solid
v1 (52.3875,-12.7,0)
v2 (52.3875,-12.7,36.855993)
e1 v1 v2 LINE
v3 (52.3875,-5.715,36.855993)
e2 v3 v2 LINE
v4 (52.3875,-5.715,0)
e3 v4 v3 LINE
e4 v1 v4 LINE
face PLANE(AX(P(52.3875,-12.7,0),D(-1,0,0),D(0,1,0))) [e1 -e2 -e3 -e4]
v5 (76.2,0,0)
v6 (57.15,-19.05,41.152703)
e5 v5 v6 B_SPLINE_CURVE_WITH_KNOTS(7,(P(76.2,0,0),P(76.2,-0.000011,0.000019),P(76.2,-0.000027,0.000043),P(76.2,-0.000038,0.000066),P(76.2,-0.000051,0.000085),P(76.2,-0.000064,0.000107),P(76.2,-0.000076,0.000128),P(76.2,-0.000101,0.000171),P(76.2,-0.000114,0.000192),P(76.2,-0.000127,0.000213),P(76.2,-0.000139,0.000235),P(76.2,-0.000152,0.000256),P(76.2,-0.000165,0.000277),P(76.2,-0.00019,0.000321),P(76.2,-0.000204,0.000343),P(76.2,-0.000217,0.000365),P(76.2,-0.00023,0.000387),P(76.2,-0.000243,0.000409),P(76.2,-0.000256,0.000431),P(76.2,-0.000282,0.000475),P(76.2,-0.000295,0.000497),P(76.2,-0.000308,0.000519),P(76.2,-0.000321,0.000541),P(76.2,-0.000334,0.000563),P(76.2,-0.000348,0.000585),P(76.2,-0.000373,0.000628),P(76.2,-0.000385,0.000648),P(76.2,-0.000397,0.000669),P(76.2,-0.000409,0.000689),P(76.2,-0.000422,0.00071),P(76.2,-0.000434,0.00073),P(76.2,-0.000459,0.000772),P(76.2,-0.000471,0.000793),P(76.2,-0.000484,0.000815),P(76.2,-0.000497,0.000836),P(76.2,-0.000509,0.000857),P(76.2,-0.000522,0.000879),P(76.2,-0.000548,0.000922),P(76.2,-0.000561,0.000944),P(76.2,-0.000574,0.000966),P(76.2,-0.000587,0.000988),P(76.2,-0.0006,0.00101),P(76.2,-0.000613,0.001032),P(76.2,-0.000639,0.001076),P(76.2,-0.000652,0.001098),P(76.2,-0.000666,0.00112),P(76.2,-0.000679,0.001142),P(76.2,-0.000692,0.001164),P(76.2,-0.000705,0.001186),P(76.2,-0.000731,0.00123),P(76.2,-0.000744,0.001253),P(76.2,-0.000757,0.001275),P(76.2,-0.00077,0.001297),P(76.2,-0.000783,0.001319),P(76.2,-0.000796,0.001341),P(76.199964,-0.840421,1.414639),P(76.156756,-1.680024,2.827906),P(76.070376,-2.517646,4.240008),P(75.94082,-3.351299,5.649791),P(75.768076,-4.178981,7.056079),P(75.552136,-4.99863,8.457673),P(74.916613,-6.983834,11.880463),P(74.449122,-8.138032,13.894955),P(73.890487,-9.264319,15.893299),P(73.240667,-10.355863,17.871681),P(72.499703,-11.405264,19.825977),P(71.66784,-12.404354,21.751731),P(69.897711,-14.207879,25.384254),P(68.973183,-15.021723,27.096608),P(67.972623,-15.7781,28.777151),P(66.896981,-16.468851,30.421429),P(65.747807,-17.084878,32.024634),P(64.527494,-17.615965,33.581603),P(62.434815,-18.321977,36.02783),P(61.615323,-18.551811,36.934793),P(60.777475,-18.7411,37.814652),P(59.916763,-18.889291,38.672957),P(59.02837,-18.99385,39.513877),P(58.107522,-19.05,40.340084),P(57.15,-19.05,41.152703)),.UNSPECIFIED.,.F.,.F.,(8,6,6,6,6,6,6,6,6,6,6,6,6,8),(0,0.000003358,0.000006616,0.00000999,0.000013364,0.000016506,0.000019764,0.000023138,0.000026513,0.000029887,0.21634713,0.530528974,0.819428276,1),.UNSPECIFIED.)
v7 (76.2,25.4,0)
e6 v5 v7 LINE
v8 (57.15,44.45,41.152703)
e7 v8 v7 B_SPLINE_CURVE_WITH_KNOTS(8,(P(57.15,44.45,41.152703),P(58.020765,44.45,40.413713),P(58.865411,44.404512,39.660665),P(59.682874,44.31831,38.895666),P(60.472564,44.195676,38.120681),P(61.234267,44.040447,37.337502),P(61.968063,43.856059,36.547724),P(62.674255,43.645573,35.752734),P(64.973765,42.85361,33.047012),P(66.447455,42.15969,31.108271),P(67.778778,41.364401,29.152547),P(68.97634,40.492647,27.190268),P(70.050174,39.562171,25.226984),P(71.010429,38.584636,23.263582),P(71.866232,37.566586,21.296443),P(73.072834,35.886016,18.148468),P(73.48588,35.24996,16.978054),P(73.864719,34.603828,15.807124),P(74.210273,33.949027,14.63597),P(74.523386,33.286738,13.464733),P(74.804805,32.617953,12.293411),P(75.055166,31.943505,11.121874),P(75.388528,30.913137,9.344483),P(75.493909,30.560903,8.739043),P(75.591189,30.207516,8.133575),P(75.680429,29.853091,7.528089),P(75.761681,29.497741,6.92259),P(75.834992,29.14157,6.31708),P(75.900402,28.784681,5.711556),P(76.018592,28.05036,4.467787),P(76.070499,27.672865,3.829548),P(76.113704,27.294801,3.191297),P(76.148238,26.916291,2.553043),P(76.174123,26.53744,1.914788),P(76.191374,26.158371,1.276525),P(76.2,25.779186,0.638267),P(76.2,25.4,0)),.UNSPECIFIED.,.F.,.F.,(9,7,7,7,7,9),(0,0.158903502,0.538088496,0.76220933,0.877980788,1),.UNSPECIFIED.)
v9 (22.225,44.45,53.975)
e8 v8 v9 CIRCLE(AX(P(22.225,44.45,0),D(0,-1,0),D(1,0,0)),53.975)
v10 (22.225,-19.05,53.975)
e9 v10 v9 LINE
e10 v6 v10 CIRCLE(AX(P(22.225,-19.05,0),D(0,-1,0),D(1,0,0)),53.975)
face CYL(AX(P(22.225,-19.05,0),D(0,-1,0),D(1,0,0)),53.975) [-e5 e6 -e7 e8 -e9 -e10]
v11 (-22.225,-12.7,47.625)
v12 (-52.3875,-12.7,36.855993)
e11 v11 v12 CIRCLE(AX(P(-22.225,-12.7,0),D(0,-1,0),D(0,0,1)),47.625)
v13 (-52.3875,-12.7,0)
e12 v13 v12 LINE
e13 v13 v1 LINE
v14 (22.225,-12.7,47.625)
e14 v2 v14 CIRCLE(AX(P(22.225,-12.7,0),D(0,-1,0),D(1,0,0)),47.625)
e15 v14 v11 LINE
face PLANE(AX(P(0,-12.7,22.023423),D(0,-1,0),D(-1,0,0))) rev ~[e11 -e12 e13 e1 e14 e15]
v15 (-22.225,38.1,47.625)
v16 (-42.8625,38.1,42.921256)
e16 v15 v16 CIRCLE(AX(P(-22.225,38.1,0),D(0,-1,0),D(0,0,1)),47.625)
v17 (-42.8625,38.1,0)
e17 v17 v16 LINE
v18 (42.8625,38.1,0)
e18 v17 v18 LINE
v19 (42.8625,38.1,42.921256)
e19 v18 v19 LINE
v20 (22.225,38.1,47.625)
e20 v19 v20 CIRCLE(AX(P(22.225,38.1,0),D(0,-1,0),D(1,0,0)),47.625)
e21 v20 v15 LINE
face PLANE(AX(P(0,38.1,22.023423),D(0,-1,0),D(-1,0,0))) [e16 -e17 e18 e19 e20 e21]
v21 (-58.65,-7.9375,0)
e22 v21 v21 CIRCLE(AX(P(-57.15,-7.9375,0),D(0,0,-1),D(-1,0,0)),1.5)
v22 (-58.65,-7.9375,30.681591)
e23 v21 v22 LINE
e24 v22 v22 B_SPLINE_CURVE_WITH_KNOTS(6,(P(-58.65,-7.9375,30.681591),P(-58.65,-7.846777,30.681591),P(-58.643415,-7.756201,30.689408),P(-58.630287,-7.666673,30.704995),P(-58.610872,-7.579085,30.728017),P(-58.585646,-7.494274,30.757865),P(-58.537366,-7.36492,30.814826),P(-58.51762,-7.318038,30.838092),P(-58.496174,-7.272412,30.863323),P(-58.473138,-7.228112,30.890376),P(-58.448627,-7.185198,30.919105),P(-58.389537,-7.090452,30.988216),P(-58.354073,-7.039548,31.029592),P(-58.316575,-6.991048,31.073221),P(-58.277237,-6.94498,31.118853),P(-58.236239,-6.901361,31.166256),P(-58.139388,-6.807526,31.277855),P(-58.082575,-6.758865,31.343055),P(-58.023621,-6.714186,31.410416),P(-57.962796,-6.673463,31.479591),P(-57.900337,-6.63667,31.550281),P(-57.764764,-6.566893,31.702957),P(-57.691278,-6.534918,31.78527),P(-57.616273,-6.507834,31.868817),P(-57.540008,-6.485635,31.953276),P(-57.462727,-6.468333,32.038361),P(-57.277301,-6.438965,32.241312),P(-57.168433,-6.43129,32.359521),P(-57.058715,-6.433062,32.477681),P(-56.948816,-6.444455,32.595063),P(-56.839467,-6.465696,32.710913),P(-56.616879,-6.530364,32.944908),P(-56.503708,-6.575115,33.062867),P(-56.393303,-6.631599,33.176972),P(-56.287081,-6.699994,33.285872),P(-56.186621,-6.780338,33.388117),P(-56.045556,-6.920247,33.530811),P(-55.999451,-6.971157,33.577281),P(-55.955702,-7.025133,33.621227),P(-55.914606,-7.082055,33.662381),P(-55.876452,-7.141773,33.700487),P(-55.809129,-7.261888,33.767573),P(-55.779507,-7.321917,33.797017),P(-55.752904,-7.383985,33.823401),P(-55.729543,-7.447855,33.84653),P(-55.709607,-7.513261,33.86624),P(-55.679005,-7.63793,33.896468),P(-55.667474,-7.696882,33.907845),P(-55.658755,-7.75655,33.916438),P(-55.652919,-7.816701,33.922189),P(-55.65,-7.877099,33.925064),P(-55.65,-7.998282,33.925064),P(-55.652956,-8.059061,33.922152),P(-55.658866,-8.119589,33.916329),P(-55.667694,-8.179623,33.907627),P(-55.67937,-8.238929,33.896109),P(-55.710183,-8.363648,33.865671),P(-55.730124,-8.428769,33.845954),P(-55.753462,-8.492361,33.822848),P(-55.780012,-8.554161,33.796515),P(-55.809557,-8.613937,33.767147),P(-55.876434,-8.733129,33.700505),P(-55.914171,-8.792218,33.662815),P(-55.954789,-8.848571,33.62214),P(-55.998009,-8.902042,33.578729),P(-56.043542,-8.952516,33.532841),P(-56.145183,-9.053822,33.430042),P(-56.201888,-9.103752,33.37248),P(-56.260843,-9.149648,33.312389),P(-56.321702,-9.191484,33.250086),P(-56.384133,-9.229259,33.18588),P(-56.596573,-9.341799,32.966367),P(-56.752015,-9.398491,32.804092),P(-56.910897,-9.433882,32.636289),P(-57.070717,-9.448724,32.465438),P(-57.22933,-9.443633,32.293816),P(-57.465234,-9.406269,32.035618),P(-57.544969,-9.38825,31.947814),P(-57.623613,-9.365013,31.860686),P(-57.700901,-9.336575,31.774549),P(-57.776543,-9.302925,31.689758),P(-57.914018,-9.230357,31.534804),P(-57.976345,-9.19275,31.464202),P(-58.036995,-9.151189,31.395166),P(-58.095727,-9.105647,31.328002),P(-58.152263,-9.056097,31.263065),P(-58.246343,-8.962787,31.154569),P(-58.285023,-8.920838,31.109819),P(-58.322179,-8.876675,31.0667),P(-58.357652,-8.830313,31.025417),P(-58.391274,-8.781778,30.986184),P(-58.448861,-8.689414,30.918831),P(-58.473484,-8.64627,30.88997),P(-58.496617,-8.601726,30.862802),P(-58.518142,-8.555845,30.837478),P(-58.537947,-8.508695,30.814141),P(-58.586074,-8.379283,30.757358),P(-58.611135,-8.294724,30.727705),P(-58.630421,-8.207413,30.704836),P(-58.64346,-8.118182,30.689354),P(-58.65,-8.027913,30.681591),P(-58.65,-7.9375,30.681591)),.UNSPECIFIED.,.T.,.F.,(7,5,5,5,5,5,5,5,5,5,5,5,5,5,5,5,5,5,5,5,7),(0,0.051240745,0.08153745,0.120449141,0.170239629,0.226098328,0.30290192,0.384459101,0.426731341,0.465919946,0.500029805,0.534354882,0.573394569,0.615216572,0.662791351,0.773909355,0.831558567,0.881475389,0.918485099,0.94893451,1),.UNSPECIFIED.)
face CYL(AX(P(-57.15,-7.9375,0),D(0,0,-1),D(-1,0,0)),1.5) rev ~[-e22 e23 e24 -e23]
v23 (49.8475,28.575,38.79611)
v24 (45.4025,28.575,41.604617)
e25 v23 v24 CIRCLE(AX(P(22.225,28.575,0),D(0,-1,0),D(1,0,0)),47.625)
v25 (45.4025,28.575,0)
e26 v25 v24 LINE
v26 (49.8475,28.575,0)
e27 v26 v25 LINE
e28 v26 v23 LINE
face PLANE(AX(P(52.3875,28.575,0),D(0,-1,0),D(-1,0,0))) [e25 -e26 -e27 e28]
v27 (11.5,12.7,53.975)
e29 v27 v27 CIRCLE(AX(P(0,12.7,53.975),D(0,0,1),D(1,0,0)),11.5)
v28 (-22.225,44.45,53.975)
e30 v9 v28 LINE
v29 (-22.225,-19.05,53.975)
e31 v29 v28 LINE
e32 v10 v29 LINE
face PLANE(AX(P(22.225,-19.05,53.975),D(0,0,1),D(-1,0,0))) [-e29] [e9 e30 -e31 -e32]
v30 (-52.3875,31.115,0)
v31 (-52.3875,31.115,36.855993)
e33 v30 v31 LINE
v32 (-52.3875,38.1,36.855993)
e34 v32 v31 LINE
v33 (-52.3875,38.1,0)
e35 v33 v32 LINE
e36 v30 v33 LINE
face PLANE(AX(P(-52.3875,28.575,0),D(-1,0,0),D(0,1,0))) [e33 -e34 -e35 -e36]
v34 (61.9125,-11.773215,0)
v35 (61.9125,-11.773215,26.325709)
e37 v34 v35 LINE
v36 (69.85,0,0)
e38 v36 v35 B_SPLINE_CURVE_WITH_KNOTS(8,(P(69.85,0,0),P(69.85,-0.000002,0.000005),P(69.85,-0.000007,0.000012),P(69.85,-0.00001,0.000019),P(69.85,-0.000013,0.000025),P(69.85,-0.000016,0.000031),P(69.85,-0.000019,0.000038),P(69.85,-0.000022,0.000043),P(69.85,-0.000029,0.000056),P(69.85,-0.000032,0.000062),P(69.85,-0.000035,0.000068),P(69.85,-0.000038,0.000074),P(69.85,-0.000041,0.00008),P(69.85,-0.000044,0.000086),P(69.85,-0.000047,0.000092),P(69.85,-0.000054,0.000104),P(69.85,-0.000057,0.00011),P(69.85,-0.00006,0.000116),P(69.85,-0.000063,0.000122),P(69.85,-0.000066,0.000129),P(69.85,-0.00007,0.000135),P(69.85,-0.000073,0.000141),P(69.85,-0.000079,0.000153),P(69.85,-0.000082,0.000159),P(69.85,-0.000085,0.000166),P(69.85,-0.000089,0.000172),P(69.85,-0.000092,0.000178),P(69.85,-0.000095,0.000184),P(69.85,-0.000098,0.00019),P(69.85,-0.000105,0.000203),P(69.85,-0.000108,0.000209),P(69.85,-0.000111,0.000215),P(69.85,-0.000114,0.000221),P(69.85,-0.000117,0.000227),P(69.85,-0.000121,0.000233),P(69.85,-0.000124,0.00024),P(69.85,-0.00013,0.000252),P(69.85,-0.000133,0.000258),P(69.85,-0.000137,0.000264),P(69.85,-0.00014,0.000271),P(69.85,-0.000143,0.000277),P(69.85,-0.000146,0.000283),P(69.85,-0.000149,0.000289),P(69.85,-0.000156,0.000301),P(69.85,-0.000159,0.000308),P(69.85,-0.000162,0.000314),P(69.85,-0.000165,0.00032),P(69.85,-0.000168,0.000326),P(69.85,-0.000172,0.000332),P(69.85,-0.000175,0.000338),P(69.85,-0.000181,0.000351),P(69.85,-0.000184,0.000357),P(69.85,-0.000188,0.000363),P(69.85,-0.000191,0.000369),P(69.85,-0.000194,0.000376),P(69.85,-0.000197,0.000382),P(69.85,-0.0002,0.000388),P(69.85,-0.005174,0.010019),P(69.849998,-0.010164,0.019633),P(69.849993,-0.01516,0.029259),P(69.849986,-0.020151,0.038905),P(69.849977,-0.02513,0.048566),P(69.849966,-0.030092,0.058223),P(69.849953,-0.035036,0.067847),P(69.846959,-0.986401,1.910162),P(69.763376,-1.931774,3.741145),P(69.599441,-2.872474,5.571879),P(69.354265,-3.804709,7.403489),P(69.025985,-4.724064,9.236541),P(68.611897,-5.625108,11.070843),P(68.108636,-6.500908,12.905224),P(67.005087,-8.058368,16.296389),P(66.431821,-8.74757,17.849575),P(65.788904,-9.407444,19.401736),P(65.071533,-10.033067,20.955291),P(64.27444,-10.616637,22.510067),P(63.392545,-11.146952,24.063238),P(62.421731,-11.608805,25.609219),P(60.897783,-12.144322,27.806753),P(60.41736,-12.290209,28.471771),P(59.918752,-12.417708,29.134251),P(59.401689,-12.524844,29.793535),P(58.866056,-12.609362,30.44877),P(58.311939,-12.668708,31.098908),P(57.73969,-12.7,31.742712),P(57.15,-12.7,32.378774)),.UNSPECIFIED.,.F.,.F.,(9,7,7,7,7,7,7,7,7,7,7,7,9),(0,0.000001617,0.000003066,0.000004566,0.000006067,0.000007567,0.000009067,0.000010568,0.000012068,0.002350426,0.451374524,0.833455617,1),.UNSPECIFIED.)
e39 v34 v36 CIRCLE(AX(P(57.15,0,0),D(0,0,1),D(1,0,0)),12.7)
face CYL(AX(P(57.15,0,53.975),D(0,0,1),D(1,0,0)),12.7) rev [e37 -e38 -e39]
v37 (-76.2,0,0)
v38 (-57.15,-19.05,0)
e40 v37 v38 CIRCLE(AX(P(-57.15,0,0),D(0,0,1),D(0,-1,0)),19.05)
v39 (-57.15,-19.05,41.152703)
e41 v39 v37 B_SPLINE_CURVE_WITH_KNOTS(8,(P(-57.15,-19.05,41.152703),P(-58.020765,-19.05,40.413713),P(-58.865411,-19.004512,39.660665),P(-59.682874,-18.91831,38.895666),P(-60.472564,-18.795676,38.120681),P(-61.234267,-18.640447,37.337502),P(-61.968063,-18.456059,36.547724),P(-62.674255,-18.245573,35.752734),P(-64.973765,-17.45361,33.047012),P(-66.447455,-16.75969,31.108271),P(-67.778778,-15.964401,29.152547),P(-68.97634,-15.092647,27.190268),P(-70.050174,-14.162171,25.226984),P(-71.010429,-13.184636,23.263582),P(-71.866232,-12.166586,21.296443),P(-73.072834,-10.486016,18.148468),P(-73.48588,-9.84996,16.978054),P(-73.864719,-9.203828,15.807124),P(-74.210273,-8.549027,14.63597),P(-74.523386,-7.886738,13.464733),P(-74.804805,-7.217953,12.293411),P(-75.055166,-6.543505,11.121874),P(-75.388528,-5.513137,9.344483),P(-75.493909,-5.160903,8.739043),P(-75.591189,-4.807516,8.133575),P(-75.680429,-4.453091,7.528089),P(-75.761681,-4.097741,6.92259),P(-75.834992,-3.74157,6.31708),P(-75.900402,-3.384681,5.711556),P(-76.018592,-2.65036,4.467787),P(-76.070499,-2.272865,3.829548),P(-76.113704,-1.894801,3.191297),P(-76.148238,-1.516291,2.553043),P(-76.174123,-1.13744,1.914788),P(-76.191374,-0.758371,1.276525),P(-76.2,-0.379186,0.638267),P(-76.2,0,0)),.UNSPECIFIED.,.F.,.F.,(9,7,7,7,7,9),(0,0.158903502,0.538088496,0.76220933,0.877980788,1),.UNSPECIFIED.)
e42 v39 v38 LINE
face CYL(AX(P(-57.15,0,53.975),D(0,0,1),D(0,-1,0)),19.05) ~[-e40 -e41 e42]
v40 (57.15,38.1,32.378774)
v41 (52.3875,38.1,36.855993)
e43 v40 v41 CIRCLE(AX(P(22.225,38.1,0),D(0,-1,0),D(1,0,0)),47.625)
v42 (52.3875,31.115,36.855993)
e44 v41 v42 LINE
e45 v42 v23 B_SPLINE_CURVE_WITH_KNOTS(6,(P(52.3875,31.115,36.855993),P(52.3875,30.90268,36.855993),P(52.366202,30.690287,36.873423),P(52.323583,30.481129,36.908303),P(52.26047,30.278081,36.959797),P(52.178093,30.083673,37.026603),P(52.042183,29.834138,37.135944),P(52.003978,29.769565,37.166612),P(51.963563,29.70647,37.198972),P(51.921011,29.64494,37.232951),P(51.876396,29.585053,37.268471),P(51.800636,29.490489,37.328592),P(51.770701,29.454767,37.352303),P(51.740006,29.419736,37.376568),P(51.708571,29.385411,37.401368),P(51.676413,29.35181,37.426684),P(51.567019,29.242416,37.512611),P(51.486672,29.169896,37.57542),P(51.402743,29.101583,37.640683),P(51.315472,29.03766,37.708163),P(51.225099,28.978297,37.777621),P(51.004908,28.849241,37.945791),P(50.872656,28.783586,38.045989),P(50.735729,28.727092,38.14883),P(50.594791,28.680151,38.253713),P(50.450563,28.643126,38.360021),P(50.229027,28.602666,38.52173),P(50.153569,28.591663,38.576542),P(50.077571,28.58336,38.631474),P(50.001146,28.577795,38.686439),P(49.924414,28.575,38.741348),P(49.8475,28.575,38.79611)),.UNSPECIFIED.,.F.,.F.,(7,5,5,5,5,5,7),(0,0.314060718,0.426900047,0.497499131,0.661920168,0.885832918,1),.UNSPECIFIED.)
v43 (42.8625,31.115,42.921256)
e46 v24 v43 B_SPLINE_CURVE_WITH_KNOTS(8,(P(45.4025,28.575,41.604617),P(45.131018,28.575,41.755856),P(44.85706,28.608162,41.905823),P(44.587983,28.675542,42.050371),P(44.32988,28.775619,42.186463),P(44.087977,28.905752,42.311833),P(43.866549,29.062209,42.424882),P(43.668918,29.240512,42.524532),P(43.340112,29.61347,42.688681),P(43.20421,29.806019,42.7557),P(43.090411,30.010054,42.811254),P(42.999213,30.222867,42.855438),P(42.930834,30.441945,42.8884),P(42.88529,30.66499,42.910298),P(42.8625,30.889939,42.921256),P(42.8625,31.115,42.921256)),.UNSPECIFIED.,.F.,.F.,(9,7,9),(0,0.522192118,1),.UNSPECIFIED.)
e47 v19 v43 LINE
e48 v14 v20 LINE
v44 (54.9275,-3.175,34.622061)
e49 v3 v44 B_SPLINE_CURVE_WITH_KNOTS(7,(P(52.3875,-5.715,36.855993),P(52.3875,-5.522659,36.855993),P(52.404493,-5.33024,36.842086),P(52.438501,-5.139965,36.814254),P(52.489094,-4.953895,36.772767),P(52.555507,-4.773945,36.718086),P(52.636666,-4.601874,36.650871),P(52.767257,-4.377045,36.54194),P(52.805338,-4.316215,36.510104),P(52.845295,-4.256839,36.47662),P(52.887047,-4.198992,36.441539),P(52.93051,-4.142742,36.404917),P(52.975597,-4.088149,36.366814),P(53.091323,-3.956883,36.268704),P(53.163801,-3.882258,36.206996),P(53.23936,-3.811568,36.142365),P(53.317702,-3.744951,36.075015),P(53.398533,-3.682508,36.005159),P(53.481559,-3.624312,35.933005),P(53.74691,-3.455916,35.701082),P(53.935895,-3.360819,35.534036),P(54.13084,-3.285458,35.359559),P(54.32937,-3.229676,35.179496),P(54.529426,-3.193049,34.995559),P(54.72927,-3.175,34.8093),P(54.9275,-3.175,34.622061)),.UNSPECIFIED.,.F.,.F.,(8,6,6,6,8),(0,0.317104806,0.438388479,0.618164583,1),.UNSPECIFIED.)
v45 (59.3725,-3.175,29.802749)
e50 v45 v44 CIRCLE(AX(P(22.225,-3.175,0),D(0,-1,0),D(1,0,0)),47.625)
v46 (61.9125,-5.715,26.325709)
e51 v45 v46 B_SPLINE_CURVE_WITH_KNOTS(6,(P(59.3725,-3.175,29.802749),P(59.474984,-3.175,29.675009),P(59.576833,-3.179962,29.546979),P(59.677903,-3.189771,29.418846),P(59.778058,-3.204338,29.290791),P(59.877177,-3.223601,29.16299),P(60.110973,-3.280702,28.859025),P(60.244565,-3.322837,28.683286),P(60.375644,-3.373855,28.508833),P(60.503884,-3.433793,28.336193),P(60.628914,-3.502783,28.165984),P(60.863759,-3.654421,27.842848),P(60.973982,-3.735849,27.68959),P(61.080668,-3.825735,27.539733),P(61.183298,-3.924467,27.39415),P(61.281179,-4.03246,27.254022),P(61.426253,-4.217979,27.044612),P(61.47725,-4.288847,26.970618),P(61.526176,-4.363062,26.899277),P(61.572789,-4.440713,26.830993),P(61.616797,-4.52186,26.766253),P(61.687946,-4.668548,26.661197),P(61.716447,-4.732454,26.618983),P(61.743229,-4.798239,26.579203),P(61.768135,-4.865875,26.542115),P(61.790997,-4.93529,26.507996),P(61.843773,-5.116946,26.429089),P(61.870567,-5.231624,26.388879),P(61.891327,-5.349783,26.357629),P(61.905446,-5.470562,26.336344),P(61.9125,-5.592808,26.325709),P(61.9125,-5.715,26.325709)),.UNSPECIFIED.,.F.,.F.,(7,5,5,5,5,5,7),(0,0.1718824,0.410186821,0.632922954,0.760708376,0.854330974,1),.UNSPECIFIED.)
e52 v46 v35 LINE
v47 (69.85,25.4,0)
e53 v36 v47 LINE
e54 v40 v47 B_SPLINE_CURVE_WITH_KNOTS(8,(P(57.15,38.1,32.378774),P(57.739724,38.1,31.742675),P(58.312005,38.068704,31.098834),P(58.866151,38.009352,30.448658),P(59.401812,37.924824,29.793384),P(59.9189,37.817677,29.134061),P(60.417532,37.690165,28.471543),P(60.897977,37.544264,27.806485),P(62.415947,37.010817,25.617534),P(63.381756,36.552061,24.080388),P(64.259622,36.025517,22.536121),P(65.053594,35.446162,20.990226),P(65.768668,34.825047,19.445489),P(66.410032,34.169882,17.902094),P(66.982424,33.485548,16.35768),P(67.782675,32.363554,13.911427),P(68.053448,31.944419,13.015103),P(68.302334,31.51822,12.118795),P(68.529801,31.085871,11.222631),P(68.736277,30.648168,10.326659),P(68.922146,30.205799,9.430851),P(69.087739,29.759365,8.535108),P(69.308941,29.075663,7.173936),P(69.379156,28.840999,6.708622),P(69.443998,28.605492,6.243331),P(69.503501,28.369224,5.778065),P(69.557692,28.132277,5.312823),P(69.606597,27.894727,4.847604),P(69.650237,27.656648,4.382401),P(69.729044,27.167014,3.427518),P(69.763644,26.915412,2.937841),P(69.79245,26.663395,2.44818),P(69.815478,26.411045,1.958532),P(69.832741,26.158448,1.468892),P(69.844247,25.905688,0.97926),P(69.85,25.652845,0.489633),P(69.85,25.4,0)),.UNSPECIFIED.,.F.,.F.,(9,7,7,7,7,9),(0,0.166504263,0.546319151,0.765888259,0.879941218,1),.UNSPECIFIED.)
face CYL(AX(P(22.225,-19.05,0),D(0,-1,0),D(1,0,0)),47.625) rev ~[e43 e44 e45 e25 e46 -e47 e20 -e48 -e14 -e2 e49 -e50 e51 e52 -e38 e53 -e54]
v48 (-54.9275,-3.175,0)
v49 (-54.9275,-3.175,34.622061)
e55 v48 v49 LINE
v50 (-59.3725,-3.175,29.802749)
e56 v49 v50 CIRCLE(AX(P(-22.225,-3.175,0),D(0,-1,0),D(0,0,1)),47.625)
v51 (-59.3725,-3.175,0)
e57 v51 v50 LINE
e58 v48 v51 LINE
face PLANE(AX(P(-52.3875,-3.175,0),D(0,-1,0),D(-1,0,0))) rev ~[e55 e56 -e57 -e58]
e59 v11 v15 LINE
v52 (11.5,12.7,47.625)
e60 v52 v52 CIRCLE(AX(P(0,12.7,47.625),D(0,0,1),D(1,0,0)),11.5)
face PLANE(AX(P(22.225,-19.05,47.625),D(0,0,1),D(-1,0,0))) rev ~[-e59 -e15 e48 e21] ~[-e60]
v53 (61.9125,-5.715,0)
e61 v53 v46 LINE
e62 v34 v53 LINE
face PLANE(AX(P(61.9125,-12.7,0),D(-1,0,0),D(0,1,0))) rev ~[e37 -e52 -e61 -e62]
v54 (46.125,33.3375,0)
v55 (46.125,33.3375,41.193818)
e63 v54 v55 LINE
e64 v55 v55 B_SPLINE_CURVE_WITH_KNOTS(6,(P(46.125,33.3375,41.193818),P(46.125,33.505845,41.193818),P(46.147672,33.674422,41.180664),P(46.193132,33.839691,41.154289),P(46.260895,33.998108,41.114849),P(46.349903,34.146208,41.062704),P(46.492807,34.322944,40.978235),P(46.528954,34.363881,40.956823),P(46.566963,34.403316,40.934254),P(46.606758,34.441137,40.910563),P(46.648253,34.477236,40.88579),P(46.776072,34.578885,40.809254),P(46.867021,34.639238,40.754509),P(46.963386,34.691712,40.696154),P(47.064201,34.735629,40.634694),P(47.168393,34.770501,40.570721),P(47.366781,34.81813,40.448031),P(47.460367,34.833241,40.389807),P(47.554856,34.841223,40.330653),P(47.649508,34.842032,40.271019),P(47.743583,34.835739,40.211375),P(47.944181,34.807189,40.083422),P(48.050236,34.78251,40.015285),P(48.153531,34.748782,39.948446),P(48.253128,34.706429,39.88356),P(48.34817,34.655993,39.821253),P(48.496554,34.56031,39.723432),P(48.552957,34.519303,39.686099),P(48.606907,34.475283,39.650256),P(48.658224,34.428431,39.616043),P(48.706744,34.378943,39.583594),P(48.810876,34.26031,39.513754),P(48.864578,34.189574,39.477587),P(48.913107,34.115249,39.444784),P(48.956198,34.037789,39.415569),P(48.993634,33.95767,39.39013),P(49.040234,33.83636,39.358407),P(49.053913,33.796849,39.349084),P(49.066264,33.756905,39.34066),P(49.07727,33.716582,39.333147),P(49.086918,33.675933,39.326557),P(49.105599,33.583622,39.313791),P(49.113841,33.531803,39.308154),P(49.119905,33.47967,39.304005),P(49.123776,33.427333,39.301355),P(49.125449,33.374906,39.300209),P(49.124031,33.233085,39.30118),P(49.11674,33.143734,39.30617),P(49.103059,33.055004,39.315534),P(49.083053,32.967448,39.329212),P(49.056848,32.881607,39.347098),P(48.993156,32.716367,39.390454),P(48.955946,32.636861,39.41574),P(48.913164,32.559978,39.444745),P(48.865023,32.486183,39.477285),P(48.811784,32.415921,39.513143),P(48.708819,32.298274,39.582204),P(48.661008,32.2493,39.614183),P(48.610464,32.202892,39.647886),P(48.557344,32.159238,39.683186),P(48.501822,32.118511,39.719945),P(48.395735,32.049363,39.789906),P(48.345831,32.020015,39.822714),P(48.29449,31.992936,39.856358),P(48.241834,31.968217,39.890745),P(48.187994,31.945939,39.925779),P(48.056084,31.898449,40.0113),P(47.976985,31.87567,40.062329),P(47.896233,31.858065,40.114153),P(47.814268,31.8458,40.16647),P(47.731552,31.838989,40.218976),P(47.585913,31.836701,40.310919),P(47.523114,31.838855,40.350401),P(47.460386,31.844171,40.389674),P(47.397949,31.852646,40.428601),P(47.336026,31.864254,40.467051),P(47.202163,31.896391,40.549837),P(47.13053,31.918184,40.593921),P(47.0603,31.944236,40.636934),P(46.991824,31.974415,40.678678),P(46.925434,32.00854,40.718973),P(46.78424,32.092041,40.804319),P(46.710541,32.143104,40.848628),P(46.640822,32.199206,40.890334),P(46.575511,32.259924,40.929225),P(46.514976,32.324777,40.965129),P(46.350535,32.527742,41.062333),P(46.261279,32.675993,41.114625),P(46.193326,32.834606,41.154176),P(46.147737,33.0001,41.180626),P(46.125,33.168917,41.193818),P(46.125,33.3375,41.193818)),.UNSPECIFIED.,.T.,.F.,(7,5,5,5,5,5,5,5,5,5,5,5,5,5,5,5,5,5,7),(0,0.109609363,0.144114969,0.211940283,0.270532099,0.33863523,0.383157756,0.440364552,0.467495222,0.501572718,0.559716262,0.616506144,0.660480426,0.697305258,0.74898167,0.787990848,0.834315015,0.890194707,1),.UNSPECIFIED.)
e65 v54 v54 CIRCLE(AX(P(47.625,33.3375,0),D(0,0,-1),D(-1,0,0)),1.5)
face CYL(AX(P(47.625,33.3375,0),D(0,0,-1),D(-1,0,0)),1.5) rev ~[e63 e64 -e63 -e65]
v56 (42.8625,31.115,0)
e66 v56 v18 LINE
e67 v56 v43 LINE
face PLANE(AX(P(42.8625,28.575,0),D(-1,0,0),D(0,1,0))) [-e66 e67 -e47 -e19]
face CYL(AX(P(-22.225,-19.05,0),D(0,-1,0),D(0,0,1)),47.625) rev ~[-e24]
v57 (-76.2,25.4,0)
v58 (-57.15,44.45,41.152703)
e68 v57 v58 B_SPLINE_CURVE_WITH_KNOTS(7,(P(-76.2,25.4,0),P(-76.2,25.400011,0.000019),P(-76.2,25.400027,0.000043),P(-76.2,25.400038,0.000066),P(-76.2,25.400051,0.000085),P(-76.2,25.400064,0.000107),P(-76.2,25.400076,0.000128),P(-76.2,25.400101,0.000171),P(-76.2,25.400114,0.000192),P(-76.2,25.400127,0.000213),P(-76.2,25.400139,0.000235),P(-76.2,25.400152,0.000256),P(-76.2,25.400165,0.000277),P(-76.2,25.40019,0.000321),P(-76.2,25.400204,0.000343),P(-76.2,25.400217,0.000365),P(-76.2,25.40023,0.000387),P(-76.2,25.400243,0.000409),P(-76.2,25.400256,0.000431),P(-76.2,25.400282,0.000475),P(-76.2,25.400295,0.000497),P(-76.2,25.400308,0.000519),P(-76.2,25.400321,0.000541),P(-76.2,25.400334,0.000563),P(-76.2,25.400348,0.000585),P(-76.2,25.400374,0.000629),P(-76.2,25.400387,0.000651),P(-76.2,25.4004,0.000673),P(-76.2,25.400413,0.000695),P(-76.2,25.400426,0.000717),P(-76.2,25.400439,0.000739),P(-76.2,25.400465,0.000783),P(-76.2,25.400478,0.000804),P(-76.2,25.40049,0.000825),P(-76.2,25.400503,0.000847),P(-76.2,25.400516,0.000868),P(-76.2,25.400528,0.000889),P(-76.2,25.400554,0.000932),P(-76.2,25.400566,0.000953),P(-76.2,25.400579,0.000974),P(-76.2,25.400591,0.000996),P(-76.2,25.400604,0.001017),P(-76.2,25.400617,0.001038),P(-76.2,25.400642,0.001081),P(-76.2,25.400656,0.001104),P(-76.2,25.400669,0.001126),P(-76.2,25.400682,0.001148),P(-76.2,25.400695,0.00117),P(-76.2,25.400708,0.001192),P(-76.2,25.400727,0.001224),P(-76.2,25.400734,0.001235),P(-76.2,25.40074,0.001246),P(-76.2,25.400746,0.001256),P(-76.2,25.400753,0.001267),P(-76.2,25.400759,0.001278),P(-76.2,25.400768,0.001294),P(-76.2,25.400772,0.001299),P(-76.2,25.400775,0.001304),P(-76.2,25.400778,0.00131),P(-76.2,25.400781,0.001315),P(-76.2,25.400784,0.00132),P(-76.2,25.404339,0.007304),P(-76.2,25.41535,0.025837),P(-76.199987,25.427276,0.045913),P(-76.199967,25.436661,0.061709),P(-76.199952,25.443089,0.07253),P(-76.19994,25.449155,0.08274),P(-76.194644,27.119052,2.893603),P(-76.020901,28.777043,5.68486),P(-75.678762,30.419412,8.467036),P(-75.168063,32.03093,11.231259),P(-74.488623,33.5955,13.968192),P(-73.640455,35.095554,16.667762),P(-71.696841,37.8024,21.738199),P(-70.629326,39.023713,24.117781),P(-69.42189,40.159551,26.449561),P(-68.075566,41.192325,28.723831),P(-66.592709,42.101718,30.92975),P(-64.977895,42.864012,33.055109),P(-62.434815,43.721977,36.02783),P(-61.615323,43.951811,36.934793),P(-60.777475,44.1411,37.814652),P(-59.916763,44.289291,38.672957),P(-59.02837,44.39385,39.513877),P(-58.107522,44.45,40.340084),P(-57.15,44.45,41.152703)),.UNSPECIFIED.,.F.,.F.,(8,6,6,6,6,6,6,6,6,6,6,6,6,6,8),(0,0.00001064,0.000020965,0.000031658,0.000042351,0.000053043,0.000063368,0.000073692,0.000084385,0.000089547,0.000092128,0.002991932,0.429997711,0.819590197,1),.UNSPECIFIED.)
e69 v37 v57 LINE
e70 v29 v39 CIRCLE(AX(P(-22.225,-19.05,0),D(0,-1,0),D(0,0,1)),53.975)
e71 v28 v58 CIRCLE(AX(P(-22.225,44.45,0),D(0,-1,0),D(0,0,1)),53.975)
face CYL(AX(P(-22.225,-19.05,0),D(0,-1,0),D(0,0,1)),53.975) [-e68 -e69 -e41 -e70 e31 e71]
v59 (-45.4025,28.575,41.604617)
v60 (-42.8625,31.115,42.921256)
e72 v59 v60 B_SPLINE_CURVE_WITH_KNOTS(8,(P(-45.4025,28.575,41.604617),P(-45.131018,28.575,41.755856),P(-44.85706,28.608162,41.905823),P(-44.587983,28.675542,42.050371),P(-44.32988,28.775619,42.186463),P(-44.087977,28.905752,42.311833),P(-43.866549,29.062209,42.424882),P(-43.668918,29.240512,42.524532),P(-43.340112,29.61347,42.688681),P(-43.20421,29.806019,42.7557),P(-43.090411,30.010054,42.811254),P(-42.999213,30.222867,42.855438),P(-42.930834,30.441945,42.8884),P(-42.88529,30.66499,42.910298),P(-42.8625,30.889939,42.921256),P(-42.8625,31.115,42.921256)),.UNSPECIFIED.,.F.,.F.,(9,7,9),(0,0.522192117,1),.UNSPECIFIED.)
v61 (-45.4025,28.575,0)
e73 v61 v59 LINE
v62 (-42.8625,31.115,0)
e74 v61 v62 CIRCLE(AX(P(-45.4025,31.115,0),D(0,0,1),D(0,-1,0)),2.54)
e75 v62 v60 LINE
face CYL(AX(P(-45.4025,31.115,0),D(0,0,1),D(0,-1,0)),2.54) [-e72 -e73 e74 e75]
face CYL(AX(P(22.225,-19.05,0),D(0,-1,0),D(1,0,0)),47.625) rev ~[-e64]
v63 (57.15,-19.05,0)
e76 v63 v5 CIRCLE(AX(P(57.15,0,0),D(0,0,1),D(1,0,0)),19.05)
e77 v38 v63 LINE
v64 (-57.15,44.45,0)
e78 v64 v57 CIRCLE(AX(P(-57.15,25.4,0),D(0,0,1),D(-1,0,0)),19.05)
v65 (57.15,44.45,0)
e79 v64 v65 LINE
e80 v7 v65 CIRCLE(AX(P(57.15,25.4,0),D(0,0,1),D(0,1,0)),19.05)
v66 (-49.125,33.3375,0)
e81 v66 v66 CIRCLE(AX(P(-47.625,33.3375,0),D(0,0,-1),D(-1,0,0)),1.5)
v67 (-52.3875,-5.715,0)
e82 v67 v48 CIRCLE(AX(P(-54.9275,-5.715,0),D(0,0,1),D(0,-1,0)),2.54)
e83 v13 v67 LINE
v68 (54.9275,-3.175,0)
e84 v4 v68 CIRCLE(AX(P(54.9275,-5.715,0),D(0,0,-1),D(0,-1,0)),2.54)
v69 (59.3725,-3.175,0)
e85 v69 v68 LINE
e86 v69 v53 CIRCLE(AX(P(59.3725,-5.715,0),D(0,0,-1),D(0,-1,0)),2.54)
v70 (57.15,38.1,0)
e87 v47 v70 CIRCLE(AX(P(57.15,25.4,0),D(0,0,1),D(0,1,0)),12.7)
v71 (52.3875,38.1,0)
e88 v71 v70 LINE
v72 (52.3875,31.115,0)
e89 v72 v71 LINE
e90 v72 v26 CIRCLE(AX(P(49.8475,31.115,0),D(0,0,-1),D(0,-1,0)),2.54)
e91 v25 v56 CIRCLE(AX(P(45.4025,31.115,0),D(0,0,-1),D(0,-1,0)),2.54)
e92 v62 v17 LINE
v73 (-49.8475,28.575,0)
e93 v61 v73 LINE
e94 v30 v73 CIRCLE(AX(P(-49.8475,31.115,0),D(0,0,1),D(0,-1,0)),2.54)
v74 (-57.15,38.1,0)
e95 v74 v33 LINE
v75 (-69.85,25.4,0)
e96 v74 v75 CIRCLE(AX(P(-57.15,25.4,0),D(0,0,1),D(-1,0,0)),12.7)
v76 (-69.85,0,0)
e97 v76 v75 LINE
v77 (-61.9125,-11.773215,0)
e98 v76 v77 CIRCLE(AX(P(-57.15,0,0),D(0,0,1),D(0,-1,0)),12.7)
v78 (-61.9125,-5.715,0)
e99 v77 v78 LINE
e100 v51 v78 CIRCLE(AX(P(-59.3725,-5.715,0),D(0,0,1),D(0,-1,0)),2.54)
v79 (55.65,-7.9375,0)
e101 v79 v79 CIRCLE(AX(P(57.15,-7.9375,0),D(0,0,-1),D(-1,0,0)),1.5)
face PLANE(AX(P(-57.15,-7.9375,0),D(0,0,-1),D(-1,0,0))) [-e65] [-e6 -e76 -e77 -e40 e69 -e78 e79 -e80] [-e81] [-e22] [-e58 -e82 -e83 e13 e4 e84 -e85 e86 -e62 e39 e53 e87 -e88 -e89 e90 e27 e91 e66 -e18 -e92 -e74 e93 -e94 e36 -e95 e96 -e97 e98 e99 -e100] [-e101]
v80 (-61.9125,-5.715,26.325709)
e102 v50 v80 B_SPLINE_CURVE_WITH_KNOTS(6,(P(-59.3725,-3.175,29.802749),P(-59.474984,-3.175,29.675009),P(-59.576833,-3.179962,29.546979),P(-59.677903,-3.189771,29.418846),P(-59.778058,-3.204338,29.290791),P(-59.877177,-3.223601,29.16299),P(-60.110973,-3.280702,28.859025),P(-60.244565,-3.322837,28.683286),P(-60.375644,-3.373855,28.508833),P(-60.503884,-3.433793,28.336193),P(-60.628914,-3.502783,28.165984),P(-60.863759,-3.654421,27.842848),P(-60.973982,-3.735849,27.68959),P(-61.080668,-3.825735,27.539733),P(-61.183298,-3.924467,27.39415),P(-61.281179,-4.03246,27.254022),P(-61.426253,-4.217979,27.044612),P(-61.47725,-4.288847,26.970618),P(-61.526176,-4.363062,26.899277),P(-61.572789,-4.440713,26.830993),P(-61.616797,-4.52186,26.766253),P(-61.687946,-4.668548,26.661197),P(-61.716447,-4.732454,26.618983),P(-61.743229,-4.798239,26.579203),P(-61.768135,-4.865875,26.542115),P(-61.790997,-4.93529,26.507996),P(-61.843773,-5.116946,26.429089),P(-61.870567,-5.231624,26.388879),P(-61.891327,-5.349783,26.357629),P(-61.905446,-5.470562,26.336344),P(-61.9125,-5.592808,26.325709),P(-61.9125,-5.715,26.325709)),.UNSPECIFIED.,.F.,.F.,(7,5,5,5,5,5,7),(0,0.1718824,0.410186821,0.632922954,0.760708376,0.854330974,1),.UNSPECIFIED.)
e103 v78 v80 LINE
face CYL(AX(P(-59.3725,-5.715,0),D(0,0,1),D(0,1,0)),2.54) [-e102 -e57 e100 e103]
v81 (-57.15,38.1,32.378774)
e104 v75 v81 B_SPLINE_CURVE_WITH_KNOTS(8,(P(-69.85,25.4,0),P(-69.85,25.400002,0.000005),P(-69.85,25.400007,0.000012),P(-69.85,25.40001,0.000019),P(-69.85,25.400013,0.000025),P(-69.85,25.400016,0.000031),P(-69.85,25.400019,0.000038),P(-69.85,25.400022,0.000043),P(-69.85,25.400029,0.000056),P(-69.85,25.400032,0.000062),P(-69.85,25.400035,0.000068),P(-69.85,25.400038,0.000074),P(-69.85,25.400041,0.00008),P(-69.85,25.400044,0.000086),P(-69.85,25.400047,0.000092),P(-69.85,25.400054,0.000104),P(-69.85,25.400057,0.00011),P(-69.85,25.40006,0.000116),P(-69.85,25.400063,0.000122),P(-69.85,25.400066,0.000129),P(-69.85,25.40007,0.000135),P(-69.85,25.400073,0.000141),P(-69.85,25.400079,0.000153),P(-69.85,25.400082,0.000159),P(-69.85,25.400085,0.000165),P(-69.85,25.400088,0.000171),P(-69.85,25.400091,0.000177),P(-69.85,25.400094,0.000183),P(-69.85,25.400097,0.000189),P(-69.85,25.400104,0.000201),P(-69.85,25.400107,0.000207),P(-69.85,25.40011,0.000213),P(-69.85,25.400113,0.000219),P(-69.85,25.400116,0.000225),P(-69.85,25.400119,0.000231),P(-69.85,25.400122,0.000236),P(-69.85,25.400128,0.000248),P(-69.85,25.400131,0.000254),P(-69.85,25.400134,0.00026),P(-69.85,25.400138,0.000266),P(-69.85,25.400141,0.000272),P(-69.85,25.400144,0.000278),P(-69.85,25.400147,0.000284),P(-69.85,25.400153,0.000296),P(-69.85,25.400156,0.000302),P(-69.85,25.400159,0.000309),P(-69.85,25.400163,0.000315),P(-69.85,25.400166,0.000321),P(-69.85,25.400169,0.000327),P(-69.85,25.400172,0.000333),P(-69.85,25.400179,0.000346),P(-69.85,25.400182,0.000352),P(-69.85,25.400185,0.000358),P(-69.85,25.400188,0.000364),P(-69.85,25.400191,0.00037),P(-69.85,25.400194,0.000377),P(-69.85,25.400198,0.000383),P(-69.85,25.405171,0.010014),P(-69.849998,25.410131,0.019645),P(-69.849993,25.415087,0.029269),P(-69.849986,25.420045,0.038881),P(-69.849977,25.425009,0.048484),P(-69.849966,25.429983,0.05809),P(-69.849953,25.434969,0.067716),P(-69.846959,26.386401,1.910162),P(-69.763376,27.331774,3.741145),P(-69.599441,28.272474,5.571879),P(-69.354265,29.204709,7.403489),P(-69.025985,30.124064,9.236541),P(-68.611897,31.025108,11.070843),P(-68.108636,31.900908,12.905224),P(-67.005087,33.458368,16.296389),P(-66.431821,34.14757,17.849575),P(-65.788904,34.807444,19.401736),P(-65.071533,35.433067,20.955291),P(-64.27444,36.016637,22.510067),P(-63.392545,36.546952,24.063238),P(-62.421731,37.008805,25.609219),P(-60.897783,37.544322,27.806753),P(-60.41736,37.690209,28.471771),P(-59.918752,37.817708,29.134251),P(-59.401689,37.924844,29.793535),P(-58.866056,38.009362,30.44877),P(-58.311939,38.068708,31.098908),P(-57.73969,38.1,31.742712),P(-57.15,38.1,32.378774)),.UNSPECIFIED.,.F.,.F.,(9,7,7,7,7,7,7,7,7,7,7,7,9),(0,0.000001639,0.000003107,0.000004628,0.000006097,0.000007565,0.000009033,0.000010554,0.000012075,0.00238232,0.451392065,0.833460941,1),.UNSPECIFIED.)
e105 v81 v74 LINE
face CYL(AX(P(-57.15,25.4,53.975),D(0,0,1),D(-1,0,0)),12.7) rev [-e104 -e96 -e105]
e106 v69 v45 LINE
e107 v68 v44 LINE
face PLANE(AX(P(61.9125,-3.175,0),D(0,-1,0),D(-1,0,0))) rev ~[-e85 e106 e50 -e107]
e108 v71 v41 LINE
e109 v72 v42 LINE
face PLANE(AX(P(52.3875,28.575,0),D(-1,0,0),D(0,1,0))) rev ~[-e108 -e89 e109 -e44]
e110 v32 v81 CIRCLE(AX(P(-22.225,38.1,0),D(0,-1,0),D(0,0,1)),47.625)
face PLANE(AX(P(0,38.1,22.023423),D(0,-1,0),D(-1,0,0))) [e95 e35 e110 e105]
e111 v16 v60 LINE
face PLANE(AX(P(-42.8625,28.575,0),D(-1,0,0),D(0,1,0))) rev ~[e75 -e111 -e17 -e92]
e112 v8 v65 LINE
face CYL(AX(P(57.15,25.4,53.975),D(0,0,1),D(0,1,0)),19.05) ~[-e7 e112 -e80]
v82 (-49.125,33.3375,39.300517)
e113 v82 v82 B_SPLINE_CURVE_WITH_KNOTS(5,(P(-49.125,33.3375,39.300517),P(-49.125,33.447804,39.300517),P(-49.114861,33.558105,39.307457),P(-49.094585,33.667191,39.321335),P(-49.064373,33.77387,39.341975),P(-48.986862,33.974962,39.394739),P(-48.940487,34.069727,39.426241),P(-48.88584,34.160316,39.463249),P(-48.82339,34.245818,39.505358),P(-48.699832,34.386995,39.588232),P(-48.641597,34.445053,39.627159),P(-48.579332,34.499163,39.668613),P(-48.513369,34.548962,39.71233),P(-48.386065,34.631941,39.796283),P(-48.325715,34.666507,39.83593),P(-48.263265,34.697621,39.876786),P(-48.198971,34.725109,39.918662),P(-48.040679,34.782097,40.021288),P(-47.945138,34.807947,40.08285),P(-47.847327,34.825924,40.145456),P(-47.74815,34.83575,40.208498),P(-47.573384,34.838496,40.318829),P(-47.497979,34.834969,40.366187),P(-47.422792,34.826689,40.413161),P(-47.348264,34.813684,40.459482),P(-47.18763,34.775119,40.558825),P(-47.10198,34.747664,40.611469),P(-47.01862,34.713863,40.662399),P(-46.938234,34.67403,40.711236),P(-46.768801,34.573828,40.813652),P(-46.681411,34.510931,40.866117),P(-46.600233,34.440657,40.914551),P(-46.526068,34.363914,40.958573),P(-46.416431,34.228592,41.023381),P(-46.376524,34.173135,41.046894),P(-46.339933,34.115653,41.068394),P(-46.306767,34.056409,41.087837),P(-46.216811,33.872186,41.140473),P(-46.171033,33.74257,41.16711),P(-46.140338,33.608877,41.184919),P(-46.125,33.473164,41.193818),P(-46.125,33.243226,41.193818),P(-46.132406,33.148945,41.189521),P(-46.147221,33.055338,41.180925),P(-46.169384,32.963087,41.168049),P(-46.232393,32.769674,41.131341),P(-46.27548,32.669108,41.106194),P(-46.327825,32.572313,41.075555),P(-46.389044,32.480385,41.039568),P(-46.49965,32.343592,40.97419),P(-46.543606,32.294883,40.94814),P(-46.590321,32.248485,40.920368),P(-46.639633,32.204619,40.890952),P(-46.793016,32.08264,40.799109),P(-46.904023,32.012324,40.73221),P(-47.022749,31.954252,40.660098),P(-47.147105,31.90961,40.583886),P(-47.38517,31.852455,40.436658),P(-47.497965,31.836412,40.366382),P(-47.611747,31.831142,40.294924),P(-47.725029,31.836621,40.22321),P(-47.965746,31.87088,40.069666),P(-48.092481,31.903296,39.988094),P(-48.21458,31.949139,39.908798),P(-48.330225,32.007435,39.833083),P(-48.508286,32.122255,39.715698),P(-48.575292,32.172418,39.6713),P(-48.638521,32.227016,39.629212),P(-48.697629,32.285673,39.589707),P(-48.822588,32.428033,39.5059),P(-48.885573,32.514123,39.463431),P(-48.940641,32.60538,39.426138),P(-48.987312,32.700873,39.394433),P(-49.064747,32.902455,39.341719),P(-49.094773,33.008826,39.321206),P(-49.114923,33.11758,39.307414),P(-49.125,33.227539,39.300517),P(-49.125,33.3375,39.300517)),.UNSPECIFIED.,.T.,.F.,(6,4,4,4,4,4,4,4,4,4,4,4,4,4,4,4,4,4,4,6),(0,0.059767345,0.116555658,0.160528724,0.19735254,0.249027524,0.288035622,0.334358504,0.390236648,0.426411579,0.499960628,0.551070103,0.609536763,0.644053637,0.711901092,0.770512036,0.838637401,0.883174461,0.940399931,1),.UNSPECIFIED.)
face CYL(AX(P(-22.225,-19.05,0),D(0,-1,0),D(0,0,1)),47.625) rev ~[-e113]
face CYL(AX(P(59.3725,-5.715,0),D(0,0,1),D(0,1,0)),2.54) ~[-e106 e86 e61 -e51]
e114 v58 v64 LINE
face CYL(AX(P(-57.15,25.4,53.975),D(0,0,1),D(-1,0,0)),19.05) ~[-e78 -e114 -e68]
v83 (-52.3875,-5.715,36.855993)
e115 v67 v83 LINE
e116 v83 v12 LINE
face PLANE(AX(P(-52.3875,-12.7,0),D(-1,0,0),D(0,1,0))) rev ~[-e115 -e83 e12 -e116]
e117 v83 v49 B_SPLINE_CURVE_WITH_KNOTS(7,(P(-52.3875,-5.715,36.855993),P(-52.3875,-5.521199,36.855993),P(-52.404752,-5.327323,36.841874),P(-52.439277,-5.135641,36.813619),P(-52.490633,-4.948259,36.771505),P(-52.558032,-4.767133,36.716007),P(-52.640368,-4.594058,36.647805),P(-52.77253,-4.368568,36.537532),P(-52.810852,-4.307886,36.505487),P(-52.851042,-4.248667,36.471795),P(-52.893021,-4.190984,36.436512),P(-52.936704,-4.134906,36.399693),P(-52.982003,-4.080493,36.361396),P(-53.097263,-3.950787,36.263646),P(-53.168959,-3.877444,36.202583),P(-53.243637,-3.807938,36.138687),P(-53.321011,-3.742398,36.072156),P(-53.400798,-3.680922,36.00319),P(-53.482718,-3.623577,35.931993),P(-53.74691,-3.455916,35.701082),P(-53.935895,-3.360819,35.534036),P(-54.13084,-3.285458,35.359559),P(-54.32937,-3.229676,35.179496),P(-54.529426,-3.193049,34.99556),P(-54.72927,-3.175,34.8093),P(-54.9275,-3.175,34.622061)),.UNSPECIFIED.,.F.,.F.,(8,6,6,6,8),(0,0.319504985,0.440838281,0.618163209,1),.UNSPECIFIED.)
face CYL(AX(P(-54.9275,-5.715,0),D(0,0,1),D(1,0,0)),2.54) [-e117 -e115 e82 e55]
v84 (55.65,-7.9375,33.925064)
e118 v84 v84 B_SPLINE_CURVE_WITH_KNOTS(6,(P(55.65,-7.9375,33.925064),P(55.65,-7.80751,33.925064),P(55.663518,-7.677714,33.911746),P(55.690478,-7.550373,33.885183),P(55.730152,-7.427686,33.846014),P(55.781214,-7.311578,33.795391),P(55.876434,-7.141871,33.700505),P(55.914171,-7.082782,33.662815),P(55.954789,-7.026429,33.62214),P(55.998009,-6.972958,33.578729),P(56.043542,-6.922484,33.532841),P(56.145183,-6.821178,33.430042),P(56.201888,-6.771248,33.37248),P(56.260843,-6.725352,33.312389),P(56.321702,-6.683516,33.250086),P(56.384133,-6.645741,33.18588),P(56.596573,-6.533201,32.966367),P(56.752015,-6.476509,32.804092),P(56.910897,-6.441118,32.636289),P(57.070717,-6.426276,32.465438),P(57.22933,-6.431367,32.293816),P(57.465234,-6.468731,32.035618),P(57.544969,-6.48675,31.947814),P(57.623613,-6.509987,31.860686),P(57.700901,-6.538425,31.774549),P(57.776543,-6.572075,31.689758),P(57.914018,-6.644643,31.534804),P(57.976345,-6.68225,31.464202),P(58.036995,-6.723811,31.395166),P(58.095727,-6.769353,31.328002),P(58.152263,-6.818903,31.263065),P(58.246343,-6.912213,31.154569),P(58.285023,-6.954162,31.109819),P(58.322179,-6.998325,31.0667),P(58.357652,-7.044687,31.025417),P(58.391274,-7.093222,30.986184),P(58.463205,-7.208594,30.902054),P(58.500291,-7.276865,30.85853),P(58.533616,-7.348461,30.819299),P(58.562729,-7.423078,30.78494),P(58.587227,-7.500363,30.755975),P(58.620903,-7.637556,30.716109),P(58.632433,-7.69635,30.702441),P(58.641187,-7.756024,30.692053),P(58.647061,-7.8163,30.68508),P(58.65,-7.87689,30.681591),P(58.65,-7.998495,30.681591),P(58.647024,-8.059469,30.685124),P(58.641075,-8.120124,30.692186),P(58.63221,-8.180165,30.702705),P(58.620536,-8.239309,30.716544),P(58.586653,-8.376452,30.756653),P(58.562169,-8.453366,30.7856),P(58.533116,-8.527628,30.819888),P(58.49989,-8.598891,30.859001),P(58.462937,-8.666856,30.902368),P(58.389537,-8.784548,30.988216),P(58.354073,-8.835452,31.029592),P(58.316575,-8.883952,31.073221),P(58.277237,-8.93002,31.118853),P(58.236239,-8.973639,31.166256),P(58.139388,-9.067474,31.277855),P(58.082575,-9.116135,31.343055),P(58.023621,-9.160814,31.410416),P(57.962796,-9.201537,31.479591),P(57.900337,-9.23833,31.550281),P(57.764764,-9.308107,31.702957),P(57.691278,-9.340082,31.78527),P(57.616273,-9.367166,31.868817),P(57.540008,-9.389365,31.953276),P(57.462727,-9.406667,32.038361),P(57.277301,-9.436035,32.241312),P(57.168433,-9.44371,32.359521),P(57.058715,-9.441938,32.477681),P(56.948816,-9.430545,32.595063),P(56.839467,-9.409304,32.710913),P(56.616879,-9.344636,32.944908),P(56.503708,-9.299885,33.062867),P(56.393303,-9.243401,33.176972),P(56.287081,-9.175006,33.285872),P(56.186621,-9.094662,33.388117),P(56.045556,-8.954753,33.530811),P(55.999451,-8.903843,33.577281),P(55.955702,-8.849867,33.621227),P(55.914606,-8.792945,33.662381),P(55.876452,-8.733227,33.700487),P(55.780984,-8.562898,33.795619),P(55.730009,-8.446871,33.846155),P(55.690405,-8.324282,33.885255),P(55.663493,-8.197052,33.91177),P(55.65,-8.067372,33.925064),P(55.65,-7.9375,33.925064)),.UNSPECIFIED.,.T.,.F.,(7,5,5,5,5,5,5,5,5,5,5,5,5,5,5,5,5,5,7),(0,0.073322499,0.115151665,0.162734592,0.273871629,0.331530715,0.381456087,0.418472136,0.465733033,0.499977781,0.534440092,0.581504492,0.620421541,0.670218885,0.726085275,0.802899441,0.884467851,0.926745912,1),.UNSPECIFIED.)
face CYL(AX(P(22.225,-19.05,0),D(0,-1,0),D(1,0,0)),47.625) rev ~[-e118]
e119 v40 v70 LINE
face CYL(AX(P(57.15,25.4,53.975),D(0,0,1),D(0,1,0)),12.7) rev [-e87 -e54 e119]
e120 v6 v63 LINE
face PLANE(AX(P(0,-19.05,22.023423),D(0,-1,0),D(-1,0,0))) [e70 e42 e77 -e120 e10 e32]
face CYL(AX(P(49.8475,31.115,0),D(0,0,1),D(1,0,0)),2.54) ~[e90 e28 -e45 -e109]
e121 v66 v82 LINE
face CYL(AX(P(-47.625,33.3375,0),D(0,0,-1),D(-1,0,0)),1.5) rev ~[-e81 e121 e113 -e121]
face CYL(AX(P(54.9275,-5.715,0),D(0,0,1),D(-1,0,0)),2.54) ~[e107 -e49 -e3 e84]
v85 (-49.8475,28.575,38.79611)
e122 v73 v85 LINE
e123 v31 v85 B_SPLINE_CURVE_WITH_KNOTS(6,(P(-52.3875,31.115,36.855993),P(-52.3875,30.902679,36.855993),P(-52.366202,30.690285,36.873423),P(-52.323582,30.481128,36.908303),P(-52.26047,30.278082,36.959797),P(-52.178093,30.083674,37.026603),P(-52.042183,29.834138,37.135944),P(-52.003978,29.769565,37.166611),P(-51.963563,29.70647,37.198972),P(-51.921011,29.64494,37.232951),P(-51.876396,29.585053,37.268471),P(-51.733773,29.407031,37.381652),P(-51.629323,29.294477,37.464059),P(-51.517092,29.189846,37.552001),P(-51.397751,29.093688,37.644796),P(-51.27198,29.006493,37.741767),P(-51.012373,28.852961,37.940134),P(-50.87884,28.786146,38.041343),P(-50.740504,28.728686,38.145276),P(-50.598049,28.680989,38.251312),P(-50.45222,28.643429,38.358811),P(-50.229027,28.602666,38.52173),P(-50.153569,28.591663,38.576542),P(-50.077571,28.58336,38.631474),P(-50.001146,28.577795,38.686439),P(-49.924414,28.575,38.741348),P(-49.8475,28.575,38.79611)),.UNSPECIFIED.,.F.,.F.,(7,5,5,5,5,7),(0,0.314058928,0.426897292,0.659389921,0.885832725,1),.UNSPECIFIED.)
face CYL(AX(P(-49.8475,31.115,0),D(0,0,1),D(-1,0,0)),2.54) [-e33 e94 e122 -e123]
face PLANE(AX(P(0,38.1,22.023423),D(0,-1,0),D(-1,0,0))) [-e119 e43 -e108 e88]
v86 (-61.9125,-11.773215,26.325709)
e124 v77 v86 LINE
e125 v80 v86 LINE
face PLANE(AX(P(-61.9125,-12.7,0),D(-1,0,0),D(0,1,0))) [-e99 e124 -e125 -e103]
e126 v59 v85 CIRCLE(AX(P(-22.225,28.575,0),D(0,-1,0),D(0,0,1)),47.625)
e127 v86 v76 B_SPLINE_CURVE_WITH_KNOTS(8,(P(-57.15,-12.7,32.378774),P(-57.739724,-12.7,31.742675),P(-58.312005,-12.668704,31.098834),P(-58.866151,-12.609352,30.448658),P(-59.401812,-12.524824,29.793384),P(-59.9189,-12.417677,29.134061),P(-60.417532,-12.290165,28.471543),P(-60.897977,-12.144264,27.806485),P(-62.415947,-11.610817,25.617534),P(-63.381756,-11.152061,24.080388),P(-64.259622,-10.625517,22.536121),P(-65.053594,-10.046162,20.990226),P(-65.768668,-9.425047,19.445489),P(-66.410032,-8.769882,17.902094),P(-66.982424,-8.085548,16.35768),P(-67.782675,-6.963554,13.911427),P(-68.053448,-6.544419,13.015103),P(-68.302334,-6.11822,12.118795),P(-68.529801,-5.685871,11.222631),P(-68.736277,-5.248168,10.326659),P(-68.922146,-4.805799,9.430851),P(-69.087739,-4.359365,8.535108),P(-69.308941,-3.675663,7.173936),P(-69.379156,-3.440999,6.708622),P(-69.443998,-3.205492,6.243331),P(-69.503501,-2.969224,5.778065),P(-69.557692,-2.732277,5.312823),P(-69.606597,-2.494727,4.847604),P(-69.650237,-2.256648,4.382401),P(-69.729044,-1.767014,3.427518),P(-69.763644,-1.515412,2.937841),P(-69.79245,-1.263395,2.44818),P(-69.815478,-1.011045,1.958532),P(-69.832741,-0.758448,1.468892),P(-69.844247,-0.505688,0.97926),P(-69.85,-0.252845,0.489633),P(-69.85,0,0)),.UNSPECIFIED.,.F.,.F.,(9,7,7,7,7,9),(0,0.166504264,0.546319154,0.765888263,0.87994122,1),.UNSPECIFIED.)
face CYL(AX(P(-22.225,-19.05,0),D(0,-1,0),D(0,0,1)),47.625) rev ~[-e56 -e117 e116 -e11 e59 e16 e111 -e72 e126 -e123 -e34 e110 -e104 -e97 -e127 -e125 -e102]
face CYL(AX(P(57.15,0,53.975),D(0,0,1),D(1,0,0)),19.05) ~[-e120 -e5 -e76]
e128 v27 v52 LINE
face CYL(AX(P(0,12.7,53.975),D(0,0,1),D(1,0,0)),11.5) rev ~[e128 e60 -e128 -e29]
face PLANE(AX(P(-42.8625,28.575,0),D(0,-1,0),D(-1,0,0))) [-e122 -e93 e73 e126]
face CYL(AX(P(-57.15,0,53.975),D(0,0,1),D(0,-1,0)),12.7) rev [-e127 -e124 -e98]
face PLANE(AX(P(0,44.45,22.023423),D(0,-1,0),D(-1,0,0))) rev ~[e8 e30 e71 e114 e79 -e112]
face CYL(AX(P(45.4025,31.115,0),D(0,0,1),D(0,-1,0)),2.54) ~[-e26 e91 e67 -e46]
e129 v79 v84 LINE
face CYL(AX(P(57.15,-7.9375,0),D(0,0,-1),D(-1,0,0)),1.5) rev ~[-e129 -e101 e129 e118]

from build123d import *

# Parameters (mm, degrees)
BOSS_EXTRUDE2_DEPTH      = 44.45
BOSS_EXTRUDE2_DEPTH_BACK = 19.05
CUT_EXTRUDE_THIN1_DEPTH  = 104.419258966
SHELL1_T                 = -6.35
SKETCH5_R                = 11.5
CUT_EXTRUDE1_DEPTH       = 6.35
BOSS_EXTRUDE3_REACH      = 105.419
SKETCH8_W                = 9.525
SKETCH8_H                = 9.525
SKETCH8_R                = 1.5
FILLET1_R                = 2.54


with BuildPart() as part:
    # Sketch3 → Boss-Extrude2 (new, two sides: drawn at the far end of the back side and taken through both)
    with BuildSketch(Plane(origin=(0, 0, 0), x_dir=(1, 0, 0), z_dir=(0, 1, 0)).offset(-BOSS_EXTRUDE2_DEPTH_BACK)):
        with BuildLine():
            Line((-76.2, 0), (76.2, 0))
            ThreePointArc((76.2, 0), (60.391088515, -38.166088515), (22.225, -53.975))
            Line((22.225, -53.975), (-22.225, -53.975))
            ThreePointArc((-22.225, -53.975), (-60.391088515, -38.166088515), (-76.2, 0))
        make_face()
    extrude(amount=BOSS_EXTRUDE2_DEPTH + BOSS_EXTRUDE2_DEPTH_BACK)

    # Sketch4 → Cut-Extrude-Thin1 (cut, through all)
    with BuildSketch(Plane.XY.offset(53.975)):
        with BuildLine():
            Line((88.9, 25.4), (88.9, 0))
            ThreePointArc((88.9, 0), (79.600640303, -22.450640303), (57.15, -31.75))
            Line((57.15, -31.75), (-57.15, -31.75))
            ThreePointArc((-57.15, -31.75), (-79.600640303, -22.450640303), (-88.9, 0))
            Line((-88.9, 0), (-88.9, 25.4))
            ThreePointArc((-88.9, 25.4), (-79.600640303, 47.850640303), (-57.15, 57.15))
            Line((-57.15, 57.15), (57.15, 57.15))
            ThreePointArc((57.15, 57.15), (79.600640303, 47.850640303), (88.9, 25.4))
        make_face()
        with BuildLine():
            Line((76.2, 25.4), (76.2, 0))
            ThreePointArc((76.2, 0), (70.620384182, -13.470384182), (57.15, -19.05))
            Line((57.15, -19.05), (-57.15, -19.05))
            ThreePointArc((-57.15, -19.05), (-70.620384182, -13.470384182), (-76.2, 0))
            Line((-76.2, 0), (-76.2, 25.4))
            ThreePointArc((-76.2, 25.4), (-70.620384182, 38.870384182), (-57.15, 44.45))
            Line((-57.15, 44.45), (57.15, 44.45))
            ThreePointArc((57.15, 44.45), (70.620384182, 38.870384182), (76.2, 25.4))
        make_face(mode=Mode.SUBTRACT)
    extrude(amount=-CUT_EXTRUDE_THIN1_DEPTH, mode=Mode.SUBTRACT)

    # Shell1
    shell1_openings = [part.faces().sort_by_distance(p)[0] for p in [
        (0, 12.7, 0),
    ]]
    offset(amount=SHELL1_T, openings=shell1_openings)

    # Sketch5 → Cut-Extrude1 (cut)
    with BuildSketch(Plane.XY.offset(53.975)):
        with Locations((0, 12.7)):
            Circle(SKETCH5_R)
    extrude(amount=-CUT_EXTRUDE1_DEPTH, mode=Mode.SUBTRACT)

    # Sketch8 → Boss-Extrude3 (add, up to next)
    with BuildSketch(Plane(origin=(0, 0, 0), x_dir=(-1, 0, 0), z_dir=(0, 0, -1)), mode=Mode.PRIVATE) as boss_extrude3_sk1:
        with Locations((-47.625, 33.3375)):
            Rectangle(SKETCH8_W, SKETCH8_H)
        with Locations((-47.625, 33.3375)):
            Circle(SKETCH8_R, mode=Mode.SUBTRACT)
    boss_extrude3_tool1 = extrude(boss_extrude3_sk1.sketch, amount=-BOSS_EXTRUDE3_REACH, mode=Mode.PRIVATE) - part.part
    # Sketch8 → Boss-Extrude3 (add, up to next)
    with BuildSketch(Plane(origin=(0, 0, 0), x_dir=(-1, 0, 0), z_dir=(0, 0, -1)), mode=Mode.PRIVATE) as boss_extrude3_sk2:
        with Locations((-57.15, -7.9375)):
            Rectangle(SKETCH8_W, SKETCH8_H)
        with Locations((-57.15, -7.9375)):
            Circle(SKETCH8_R, mode=Mode.SUBTRACT)
    boss_extrude3_tool2 = extrude(boss_extrude3_sk2.sketch, amount=-BOSS_EXTRUDE3_REACH, mode=Mode.PRIVATE) - part.part
    # Sketch8 → Boss-Extrude3 (add, up to next)
    with BuildSketch(Plane(origin=(0, 0, 0), x_dir=(-1, 0, 0), z_dir=(0, 0, -1)), mode=Mode.PRIVATE) as boss_extrude3_sk3:
        with Locations((57.15, -7.9375)):
            Rectangle(SKETCH8_W, SKETCH8_H)
        with Locations((57.15, -7.9375)):
            Circle(SKETCH8_R, mode=Mode.SUBTRACT)
    boss_extrude3_tool3 = extrude(boss_extrude3_sk3.sketch, amount=-BOSS_EXTRUDE3_REACH, mode=Mode.PRIVATE) - part.part
    # Sketch8 → Boss-Extrude3 (add, up to next)
    with BuildSketch(Plane(origin=(0, 0, 0), x_dir=(-1, 0, 0), z_dir=(0, 0, -1)), mode=Mode.PRIVATE) as boss_extrude3_sk4:
        with Locations((47.625, 33.3375)):
            Rectangle(SKETCH8_W, SKETCH8_H)
        with Locations((47.625, 33.3375)):
            Circle(SKETCH8_R, mode=Mode.SUBTRACT)
    boss_extrude3_tool4 = extrude(boss_extrude3_sk4.sketch, amount=-BOSS_EXTRUDE3_REACH, mode=Mode.PRIVATE) - part.part
    add(boss_extrude3_tool1.solids().sort_by_distance((47.625, 28.709704, 0))[0])
    add(boss_extrude3_tool2.solids().sort_by_distance((57.15, -3.309704, 0))[0])
    add(boss_extrude3_tool3.solids().sort_by_distance((-52.522204, -7.9375, 0))[0])
    add(boss_extrude3_tool4.solids().sort_by_distance((-47.625, 28.709704, 0))[0])

    # Fillet1
    fillet1_edges = [part.edges().sort_by_distance(p)[0] for p in [
        (42.8625, 28.575, 21.460628012),
        (52.3875, 28.575, 18.427996491),
        (61.9125, -3.175, 13.162854637),
        (52.3875, -3.175, 18.427996491),
        (-52.3875, -3.175, 18.427996491),
        (-61.9125, -3.175, 13.162854637),
        (-52.3875, 28.575, 18.427996491),
        (-42.8625, 28.575, 21.460628012),
    ]]
    fillet(fillet1_edges, radius=FILLET1_R)


solid = part.part
